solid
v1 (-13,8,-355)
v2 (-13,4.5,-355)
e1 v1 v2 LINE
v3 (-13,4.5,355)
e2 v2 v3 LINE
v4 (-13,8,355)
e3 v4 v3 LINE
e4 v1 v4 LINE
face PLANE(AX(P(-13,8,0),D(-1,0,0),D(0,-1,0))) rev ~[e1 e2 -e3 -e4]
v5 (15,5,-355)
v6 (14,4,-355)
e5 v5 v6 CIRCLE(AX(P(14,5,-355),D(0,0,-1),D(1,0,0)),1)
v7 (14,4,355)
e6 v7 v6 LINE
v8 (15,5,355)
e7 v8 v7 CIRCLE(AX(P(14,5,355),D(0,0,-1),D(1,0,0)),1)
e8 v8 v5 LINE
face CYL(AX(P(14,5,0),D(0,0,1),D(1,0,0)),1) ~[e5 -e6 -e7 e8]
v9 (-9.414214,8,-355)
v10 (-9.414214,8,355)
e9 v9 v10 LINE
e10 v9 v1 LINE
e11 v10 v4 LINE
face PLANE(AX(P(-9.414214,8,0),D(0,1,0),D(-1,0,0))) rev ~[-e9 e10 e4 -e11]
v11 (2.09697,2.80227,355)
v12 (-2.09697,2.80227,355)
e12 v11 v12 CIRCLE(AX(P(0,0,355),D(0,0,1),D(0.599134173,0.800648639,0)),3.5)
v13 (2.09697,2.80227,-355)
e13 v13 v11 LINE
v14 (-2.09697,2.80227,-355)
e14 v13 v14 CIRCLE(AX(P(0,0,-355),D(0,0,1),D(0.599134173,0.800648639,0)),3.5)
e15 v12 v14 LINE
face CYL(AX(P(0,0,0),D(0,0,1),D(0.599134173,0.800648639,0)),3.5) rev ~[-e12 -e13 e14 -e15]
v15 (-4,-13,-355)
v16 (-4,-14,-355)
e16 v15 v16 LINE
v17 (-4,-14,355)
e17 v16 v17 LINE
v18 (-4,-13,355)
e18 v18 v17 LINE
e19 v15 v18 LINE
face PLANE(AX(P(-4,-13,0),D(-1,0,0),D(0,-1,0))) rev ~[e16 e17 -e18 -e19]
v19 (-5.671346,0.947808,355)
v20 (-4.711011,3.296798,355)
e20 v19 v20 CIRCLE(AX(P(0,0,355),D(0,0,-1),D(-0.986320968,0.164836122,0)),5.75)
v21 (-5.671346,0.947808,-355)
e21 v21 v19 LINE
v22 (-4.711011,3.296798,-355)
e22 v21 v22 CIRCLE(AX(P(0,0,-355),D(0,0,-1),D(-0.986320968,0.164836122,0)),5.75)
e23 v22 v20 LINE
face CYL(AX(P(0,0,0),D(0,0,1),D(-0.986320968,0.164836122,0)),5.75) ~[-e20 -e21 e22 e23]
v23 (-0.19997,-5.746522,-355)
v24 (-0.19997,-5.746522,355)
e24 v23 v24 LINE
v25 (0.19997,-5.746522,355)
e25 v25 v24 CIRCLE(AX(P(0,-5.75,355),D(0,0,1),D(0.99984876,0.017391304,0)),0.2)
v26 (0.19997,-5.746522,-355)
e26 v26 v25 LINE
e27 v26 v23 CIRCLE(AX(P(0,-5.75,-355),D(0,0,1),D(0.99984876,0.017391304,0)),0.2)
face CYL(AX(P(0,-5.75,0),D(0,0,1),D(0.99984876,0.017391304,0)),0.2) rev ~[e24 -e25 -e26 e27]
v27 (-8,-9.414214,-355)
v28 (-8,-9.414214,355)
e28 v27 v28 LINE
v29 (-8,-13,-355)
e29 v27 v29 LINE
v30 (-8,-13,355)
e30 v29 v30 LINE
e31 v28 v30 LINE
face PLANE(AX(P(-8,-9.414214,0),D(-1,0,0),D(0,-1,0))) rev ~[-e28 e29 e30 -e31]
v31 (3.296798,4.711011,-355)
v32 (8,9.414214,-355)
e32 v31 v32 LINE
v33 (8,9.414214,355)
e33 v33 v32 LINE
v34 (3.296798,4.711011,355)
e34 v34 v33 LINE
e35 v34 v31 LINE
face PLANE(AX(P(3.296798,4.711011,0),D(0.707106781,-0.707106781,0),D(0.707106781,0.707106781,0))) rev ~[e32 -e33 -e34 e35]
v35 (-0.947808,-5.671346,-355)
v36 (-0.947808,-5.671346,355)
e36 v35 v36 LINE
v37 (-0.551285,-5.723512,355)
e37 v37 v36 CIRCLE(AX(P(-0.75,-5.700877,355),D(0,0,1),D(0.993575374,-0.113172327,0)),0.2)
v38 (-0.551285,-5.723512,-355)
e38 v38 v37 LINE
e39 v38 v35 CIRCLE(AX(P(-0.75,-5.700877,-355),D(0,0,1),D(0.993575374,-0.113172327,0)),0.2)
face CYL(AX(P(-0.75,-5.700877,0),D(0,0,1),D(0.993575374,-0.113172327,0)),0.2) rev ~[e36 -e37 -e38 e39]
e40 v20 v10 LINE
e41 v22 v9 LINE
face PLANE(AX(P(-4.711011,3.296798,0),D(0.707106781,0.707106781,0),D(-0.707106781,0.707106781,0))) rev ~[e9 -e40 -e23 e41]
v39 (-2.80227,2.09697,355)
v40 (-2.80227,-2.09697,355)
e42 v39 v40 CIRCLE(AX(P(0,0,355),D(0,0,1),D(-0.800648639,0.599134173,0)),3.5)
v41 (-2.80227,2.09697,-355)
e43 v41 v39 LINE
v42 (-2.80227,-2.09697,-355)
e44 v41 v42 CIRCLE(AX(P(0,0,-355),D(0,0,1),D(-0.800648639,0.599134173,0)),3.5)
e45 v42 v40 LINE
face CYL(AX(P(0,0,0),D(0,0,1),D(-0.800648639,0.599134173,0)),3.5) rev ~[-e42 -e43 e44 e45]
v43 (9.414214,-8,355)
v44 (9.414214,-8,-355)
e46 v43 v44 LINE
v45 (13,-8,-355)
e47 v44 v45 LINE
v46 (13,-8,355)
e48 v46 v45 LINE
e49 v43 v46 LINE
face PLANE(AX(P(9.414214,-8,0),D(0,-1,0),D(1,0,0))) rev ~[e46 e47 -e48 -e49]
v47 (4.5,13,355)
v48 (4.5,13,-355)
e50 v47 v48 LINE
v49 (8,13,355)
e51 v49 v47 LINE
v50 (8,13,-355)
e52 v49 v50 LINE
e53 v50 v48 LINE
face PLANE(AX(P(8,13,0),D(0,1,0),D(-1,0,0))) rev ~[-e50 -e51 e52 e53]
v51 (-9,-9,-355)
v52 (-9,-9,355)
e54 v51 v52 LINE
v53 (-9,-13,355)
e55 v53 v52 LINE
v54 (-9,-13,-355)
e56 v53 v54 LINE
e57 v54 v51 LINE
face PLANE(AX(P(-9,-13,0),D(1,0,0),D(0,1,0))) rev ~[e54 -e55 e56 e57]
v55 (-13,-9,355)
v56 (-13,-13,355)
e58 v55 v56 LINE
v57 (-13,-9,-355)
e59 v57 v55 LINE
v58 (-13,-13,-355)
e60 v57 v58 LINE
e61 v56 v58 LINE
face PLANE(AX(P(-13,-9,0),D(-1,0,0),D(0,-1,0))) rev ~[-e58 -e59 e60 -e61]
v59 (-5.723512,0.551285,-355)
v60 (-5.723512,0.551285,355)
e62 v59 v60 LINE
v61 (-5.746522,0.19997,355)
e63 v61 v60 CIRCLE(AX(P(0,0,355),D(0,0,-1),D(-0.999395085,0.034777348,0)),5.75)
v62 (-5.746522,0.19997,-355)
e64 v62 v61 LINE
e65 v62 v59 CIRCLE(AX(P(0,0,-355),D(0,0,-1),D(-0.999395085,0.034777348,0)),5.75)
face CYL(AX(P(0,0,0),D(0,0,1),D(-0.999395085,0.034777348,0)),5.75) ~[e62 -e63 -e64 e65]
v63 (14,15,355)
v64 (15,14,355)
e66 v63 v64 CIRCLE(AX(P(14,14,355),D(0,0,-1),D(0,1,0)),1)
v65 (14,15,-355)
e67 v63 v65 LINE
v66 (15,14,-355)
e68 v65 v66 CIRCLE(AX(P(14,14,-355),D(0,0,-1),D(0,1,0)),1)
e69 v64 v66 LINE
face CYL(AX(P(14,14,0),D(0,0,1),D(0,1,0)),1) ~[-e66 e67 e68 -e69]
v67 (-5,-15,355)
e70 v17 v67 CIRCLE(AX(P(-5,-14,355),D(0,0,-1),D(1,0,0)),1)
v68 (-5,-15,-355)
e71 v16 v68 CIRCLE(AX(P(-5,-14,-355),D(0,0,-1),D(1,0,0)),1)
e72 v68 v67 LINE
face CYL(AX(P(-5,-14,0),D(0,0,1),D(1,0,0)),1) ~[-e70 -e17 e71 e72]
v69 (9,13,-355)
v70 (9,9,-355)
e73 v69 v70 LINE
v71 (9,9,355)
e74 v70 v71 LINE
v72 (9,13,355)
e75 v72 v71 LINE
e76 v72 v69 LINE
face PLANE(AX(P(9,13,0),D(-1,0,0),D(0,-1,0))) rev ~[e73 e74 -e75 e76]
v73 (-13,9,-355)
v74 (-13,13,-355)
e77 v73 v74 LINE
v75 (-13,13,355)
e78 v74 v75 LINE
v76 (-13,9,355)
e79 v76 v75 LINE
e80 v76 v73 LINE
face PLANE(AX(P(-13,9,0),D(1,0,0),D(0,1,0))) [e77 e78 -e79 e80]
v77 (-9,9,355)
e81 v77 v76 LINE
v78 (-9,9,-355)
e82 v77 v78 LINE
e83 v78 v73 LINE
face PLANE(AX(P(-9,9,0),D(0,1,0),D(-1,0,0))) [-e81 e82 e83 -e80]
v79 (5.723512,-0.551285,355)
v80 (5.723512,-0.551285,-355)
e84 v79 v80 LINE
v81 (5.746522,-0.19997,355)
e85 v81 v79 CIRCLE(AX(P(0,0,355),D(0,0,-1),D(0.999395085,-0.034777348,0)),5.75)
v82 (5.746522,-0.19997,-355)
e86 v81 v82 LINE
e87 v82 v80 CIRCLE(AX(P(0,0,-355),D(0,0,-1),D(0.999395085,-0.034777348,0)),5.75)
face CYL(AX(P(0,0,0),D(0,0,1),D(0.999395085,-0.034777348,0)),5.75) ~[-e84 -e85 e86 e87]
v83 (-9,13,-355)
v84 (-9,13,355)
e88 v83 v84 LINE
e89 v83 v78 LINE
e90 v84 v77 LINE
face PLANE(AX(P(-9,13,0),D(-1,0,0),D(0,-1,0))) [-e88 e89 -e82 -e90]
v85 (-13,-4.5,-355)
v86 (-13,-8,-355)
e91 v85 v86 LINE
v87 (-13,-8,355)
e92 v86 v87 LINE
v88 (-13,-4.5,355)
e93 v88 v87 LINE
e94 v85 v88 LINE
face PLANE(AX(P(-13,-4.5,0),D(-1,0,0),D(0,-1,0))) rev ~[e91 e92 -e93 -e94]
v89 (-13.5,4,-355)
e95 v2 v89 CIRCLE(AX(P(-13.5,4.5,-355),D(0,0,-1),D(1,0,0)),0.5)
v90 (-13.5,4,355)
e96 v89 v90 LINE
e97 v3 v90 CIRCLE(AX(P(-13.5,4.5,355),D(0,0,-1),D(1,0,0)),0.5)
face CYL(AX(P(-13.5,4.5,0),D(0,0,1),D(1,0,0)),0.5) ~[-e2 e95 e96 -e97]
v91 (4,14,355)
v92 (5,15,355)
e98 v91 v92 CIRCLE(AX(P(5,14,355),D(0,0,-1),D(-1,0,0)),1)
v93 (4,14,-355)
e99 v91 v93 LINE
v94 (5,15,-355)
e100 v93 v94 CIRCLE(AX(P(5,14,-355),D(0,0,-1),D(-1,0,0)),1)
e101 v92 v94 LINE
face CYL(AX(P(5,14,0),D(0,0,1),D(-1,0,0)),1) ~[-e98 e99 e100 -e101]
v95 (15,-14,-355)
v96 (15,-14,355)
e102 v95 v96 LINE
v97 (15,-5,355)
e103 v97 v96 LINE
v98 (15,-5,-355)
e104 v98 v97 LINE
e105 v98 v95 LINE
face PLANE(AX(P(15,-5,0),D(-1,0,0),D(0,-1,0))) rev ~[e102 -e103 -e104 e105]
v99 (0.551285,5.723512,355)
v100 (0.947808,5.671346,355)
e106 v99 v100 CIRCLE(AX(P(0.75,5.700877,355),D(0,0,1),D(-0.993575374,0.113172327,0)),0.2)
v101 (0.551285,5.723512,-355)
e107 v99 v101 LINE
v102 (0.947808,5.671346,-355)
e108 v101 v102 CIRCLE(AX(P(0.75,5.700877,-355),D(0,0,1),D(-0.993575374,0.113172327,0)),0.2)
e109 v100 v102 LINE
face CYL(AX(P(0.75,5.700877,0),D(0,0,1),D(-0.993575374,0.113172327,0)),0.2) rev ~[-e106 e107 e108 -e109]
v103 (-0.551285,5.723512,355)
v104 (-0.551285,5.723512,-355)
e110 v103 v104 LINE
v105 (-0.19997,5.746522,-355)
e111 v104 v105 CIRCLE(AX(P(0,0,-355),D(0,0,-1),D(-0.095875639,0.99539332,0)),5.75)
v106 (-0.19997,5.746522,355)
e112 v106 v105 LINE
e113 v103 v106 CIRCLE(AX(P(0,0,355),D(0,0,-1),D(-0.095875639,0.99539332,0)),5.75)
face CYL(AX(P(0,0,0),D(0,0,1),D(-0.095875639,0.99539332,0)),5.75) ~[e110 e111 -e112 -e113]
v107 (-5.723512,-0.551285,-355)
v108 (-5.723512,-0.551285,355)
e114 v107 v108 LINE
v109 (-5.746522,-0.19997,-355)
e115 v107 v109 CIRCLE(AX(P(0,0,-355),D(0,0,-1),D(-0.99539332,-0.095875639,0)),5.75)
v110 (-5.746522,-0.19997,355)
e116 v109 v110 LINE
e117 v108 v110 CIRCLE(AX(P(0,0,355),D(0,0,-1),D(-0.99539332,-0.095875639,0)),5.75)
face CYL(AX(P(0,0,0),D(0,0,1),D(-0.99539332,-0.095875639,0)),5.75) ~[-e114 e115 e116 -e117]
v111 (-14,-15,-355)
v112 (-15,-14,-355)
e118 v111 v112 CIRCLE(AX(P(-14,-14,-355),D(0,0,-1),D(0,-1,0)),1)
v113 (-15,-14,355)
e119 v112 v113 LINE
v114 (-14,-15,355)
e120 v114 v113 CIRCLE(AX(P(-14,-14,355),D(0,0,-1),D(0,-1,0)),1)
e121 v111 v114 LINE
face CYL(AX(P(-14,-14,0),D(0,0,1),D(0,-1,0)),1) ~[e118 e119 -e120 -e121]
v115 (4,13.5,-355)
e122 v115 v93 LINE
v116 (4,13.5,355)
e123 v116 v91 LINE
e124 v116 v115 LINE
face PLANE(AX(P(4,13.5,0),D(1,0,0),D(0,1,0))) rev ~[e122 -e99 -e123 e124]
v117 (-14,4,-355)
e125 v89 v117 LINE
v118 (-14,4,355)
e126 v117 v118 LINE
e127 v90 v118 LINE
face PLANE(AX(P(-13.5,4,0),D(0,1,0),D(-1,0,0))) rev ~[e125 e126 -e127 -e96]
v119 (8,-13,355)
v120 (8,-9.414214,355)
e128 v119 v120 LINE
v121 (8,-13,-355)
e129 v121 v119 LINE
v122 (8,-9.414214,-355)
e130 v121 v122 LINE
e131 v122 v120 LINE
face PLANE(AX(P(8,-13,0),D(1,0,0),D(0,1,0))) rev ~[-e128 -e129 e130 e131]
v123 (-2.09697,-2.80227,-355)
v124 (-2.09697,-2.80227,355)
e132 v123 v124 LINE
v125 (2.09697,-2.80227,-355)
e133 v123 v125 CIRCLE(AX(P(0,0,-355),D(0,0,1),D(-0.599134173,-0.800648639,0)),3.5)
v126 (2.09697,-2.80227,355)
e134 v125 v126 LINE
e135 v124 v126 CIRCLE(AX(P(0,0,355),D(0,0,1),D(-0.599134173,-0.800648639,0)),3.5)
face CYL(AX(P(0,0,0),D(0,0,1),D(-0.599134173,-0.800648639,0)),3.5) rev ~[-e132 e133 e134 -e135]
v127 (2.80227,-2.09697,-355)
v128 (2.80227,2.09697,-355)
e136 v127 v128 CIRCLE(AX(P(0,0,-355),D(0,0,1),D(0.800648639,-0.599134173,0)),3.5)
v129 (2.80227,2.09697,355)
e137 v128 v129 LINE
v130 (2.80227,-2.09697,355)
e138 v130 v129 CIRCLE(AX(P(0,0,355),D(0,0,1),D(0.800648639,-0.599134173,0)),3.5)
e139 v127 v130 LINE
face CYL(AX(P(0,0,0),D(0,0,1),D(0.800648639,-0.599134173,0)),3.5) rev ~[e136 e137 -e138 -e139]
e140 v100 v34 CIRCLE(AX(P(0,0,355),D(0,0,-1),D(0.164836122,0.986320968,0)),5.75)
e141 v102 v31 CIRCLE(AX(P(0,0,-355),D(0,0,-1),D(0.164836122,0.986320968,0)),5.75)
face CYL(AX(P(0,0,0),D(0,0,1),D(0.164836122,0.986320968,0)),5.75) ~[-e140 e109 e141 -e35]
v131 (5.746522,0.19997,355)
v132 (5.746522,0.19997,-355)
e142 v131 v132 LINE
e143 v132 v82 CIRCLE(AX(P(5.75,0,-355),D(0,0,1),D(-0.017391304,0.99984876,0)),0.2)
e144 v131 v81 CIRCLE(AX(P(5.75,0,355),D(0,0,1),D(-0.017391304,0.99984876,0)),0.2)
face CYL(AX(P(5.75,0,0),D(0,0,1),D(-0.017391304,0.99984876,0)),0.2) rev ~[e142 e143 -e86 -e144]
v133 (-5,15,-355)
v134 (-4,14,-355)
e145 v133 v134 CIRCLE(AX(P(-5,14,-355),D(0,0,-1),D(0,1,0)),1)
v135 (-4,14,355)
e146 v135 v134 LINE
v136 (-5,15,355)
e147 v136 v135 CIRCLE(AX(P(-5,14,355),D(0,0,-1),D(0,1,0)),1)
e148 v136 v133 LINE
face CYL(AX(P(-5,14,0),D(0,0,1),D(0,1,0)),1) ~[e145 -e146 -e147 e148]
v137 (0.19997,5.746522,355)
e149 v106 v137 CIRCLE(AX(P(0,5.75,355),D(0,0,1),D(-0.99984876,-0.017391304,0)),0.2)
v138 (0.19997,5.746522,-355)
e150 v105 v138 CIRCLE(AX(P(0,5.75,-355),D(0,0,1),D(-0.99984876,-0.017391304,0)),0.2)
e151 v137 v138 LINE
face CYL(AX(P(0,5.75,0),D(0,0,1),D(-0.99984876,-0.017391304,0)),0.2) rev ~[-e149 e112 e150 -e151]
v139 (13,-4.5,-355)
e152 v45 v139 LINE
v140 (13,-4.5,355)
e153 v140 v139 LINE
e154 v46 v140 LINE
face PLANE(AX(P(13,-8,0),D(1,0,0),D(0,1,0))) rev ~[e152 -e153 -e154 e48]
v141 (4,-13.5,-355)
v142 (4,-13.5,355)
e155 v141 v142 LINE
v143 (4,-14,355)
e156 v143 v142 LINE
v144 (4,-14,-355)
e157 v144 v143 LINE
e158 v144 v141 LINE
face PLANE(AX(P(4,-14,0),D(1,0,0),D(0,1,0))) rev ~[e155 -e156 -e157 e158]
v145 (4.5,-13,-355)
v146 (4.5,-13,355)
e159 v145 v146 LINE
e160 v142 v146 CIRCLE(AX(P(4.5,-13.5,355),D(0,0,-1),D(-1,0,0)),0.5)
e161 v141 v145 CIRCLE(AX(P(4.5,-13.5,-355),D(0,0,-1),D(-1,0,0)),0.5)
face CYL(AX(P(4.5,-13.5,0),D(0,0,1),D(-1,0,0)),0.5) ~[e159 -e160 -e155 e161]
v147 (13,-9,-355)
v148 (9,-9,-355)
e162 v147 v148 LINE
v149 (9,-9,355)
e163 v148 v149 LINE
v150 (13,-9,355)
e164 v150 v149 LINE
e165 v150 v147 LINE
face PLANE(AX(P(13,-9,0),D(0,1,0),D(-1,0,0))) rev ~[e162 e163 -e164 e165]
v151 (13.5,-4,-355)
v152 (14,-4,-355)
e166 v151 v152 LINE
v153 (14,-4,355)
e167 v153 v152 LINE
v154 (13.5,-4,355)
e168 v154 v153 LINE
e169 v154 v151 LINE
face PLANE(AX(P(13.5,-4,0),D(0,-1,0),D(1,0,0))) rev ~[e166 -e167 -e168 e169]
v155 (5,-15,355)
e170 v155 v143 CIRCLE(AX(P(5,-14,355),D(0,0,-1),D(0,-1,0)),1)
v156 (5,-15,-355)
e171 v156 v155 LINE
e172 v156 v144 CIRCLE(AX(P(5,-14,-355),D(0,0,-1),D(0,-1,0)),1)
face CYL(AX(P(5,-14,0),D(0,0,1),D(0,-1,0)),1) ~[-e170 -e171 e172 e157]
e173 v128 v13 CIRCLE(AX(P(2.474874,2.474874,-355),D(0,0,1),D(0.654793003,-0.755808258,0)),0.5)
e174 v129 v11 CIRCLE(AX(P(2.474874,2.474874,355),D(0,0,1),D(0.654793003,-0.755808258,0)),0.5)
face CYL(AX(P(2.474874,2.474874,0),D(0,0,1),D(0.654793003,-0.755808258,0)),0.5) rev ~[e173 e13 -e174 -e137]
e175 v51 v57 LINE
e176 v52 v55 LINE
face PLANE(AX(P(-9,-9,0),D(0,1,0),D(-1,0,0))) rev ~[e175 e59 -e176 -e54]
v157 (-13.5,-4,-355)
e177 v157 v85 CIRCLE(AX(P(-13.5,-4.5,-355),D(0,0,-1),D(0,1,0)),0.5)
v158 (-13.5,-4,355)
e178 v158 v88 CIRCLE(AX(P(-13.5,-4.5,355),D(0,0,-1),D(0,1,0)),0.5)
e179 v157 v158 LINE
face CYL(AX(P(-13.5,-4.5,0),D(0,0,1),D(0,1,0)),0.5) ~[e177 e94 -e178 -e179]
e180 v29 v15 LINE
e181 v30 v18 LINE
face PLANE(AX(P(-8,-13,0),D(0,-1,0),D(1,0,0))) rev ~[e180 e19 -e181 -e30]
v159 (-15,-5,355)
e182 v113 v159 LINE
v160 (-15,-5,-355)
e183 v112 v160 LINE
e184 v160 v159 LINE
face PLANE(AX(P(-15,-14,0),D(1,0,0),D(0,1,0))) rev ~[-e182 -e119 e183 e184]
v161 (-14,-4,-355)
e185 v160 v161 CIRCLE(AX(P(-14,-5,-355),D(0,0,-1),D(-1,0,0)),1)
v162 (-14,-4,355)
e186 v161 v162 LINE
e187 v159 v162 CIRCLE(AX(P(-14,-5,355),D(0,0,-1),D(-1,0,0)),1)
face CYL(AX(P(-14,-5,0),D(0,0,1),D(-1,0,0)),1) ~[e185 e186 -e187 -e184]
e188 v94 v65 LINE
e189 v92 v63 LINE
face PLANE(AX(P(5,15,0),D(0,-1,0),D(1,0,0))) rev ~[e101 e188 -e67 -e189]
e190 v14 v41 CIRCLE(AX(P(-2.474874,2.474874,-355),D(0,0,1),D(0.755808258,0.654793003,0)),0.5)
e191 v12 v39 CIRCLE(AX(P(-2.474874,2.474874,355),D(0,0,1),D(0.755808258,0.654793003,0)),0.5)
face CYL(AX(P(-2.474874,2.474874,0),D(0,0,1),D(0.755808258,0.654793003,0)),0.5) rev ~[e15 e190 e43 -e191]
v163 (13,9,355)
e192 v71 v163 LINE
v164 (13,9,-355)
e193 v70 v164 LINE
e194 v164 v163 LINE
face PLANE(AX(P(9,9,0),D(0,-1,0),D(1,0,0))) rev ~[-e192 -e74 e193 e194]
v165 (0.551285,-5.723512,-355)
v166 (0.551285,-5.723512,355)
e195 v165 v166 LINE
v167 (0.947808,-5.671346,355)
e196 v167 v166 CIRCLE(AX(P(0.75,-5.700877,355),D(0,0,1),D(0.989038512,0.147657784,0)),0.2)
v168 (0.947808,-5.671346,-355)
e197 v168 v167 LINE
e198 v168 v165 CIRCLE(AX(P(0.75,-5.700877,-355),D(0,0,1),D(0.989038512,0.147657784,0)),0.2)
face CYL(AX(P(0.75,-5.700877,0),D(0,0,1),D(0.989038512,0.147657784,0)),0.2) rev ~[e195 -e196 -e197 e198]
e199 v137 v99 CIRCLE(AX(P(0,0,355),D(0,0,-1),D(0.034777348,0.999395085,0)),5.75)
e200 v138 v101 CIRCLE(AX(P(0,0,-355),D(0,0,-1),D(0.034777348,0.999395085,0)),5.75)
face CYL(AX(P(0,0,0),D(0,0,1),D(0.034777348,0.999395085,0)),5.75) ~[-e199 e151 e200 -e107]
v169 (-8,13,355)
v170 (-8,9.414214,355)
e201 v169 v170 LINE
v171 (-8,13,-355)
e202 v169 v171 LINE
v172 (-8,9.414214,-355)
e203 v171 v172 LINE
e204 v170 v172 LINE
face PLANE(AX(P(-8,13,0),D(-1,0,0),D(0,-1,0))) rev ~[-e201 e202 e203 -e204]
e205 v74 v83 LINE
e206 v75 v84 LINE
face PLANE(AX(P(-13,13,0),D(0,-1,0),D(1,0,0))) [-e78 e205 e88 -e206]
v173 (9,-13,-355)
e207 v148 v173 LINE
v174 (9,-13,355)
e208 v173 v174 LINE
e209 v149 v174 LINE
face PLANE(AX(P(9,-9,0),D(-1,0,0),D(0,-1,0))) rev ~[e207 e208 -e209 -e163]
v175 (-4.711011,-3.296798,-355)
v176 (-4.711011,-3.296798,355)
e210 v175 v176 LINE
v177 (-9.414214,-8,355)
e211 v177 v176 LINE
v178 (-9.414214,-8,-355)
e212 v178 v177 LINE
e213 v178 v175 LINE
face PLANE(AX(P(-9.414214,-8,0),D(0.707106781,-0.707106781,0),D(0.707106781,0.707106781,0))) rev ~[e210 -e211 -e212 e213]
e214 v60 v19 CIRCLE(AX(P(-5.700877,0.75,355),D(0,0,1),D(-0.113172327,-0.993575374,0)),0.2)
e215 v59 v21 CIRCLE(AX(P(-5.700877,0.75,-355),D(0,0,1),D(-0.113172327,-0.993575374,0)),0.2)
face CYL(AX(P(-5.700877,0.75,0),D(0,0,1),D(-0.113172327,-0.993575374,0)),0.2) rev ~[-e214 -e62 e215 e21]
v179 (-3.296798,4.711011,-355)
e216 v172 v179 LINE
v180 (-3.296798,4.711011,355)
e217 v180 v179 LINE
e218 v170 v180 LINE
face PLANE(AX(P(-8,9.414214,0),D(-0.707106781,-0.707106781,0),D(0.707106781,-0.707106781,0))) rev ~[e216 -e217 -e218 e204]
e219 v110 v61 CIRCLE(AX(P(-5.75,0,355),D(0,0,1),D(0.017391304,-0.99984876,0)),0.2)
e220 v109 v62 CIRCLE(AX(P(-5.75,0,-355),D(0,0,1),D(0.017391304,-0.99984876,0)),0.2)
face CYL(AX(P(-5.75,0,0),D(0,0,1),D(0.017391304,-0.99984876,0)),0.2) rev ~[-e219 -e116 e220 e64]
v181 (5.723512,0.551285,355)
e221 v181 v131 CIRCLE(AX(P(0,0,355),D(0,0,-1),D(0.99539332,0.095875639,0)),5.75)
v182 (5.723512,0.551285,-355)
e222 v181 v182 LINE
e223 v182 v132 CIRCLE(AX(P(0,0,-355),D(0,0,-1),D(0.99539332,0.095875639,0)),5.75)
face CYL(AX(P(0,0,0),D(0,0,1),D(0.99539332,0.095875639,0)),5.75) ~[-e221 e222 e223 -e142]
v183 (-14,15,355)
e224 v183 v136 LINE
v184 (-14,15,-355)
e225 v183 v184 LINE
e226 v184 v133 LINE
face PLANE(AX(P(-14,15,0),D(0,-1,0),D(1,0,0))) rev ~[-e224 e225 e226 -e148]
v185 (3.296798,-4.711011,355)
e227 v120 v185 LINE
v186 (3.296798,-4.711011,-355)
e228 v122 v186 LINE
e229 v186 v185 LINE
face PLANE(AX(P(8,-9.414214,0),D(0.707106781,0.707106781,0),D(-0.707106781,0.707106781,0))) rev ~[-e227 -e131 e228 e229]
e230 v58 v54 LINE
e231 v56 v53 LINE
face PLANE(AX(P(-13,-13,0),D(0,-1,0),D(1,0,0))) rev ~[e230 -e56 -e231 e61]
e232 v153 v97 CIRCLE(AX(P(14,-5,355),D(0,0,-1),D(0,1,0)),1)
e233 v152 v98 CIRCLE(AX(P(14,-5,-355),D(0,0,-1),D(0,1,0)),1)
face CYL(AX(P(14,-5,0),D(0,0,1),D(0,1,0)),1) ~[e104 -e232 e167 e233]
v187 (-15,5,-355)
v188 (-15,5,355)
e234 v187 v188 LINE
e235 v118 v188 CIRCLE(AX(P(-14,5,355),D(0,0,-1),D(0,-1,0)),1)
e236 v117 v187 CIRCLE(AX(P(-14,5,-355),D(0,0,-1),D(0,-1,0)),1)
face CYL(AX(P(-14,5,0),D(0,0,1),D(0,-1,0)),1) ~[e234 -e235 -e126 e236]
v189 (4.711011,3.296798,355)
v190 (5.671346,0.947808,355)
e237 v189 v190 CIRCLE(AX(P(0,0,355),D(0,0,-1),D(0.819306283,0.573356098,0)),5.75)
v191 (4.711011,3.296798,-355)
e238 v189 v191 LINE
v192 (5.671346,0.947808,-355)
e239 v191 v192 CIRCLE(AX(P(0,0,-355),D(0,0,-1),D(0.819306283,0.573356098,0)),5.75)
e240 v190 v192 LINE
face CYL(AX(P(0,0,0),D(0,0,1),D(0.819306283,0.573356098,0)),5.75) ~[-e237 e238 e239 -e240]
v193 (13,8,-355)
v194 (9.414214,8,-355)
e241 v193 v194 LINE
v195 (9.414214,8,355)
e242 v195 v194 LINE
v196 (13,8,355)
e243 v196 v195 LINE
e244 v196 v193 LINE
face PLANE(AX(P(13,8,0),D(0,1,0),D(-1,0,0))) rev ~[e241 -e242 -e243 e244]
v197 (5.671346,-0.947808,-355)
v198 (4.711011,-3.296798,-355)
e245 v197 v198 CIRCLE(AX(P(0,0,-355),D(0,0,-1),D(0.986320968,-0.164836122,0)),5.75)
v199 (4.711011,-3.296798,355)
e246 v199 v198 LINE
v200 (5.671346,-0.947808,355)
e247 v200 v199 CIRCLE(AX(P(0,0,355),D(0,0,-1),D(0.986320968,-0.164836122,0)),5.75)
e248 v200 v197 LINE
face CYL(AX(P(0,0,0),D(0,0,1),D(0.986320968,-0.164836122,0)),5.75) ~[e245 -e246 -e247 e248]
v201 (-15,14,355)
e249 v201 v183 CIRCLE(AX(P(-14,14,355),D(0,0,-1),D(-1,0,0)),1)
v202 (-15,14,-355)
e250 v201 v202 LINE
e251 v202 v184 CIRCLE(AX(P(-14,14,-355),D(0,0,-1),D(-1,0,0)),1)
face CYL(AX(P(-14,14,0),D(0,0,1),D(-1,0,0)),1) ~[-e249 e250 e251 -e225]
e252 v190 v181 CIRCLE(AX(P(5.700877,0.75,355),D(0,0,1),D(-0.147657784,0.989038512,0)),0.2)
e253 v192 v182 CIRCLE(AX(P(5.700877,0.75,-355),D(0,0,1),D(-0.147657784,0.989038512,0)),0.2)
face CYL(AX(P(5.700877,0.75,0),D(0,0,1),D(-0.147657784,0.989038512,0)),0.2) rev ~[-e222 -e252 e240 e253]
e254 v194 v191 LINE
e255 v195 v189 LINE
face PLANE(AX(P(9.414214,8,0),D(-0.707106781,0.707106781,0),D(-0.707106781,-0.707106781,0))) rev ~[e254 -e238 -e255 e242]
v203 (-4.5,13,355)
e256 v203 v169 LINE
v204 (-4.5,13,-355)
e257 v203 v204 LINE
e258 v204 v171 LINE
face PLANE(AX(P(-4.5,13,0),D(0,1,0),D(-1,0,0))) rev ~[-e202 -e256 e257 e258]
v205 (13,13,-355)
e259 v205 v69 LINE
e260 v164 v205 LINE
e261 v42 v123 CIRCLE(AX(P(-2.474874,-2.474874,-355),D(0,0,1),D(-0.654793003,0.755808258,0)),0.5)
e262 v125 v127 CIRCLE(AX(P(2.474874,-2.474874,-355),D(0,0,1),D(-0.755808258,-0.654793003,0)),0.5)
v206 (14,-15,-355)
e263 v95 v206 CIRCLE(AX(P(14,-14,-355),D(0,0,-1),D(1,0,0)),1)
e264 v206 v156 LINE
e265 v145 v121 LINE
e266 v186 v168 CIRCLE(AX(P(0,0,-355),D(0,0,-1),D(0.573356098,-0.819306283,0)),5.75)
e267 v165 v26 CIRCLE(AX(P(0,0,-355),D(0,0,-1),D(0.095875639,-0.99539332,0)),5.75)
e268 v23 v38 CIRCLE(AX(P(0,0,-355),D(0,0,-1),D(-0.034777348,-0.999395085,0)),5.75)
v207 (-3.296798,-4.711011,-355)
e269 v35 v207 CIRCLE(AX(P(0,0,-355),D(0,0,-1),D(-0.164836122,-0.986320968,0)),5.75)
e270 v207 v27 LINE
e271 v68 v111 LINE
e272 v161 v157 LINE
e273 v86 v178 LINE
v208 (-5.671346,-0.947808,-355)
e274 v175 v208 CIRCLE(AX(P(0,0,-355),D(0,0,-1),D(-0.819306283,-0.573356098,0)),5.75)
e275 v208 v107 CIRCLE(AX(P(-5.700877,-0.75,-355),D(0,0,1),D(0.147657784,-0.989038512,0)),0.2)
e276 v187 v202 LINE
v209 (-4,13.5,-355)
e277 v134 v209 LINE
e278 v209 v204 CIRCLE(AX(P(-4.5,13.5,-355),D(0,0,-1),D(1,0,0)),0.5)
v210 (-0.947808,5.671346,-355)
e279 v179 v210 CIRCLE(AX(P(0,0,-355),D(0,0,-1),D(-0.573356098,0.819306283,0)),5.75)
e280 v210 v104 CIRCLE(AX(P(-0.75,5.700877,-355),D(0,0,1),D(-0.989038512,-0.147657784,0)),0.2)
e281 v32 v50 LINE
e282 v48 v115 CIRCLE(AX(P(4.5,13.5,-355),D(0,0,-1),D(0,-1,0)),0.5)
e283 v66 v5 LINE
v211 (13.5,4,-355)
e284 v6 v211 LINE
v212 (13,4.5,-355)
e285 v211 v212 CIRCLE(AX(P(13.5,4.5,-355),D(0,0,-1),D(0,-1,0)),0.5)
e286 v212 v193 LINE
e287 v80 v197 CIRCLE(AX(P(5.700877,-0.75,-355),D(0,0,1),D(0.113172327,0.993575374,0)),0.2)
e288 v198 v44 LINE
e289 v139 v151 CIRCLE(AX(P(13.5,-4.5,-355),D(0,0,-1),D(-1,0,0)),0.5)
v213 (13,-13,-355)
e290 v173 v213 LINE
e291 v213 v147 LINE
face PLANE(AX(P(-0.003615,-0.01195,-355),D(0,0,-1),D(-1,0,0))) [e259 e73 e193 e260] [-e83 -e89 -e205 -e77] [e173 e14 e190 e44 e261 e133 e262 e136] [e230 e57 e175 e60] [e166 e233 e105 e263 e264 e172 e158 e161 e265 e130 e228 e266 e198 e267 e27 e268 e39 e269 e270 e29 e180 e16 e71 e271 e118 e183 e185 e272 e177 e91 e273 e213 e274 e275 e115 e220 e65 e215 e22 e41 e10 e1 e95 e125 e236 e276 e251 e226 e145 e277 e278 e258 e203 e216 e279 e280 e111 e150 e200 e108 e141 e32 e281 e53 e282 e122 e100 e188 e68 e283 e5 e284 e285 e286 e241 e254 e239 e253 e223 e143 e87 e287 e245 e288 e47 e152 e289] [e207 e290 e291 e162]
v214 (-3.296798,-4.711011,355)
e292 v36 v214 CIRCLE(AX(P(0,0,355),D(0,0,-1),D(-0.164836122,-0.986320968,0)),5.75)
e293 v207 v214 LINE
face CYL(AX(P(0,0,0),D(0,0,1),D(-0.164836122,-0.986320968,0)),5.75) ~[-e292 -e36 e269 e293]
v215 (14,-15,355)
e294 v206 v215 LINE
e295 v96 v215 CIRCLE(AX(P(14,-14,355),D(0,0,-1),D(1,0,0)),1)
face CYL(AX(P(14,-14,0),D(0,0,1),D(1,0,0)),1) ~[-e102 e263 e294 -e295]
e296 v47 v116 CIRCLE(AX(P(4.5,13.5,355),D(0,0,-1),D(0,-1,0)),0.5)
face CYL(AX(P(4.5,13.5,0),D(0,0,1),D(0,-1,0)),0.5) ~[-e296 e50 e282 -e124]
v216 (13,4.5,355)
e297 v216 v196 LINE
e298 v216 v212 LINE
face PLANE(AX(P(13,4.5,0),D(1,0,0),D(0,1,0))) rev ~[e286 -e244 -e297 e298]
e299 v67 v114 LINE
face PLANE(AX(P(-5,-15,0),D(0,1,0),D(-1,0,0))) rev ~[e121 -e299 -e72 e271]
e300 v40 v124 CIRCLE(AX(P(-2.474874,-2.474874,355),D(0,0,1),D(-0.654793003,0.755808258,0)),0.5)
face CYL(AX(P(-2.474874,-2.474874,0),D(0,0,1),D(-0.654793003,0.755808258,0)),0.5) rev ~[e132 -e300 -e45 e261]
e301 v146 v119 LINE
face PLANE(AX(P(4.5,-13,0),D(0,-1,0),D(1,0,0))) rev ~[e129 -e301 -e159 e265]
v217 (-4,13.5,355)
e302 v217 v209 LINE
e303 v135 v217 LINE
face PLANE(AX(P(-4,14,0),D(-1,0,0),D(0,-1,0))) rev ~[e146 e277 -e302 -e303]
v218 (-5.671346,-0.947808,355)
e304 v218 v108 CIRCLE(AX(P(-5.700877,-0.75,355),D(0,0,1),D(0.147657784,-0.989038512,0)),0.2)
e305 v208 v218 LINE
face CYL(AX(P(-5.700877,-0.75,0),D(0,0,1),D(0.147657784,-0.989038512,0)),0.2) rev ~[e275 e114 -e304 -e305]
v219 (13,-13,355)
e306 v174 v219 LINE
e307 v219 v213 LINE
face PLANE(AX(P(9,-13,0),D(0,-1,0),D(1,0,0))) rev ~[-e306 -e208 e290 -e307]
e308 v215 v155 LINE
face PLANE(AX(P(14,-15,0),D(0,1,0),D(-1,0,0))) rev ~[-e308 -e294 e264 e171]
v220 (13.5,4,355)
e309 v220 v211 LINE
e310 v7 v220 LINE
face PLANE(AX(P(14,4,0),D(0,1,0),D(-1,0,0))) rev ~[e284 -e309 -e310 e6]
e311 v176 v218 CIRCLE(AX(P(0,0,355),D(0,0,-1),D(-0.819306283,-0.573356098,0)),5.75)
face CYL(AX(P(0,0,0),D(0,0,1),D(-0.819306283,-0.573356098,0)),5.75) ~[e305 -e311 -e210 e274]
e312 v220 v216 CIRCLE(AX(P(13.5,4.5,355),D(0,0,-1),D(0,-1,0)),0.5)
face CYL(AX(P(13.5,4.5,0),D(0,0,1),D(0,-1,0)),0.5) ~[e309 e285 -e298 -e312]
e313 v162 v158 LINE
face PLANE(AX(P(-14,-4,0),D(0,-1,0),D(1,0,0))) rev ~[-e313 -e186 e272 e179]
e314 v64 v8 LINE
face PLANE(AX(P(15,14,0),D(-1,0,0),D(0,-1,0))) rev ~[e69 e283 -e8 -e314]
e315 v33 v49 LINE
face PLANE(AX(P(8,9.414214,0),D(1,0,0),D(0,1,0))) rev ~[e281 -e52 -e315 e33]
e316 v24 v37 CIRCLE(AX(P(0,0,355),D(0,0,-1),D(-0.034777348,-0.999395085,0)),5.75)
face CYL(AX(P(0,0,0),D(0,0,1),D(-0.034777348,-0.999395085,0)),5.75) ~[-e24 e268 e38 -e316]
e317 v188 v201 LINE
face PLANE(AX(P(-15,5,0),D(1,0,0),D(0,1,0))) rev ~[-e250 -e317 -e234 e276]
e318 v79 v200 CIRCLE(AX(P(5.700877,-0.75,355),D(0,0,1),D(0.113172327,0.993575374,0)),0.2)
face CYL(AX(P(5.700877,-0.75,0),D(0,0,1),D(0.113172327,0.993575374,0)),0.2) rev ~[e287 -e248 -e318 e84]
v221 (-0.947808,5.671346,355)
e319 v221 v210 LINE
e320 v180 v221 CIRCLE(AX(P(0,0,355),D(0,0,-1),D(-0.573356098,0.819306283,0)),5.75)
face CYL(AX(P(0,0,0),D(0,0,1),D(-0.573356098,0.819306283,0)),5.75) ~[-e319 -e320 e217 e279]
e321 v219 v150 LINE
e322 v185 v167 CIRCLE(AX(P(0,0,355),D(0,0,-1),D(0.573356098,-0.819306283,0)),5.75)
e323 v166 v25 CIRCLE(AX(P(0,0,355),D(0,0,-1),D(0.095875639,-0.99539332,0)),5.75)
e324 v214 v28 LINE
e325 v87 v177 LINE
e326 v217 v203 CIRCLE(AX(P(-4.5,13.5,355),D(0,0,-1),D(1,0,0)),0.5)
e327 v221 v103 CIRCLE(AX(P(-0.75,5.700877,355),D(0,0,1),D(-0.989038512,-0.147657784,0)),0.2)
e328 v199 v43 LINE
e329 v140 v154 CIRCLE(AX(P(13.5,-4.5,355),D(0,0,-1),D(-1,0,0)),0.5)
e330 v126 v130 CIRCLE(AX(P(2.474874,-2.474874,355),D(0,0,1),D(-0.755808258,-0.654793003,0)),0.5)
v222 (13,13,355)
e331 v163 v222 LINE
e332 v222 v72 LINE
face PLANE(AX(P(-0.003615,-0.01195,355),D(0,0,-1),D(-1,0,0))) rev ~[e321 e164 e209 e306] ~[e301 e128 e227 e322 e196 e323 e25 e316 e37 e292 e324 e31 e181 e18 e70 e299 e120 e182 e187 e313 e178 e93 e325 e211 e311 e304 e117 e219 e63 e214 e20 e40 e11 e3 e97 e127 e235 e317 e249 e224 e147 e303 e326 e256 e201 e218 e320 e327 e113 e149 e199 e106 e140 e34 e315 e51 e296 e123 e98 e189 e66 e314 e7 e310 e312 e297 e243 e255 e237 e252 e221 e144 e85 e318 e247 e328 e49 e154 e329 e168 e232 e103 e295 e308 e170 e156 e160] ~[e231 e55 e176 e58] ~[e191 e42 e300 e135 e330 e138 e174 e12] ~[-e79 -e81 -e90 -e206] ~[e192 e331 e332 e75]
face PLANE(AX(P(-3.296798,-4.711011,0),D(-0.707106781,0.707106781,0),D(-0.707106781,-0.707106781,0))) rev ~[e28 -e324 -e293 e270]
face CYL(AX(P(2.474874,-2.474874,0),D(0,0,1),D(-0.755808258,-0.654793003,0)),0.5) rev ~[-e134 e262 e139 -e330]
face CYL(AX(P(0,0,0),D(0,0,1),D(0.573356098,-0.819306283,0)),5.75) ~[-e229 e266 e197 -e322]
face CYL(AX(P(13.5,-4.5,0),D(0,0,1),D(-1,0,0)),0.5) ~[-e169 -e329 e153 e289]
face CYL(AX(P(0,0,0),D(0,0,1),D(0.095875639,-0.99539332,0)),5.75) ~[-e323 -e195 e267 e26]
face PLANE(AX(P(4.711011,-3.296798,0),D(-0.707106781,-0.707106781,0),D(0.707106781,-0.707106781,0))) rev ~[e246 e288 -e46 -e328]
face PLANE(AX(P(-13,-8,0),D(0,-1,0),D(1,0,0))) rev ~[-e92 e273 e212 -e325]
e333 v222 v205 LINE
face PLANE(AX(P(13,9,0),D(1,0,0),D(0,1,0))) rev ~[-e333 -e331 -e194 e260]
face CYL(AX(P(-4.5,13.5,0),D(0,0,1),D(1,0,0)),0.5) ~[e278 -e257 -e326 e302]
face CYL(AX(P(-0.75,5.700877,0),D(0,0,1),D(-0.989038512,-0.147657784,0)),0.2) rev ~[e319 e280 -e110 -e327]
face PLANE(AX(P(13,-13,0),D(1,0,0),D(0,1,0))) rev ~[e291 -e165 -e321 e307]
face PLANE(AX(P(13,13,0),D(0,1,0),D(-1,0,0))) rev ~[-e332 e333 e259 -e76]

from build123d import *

# Parameters (mm, degrees)
BOSS_EXTRUDE1_DEPTH = 355


with BuildPart() as part:
    # Sketch1 → Boss-Extrude1 (new, symmetric)
    with BuildSketch(Plane.XY):
        with BuildLine():
            Line((-15, 5.000000000000009), (-15, 13.999999999999993))
            ThreePointArc((-15, 13.999999999999993), (-14.707106781186548, 14.70710678118655), (-13.999999999999991, 15.000000000000002))
            Line((-13.999999999999991, 15.000000000000002), (-5.000000000000007, 15.000000000000002))
            ThreePointArc((-5.000000000000007, 15.000000000000002), (-4.292893218813452, 14.707106781186548), (-4, 13.999999999999993))
            Line((-4, 13.999999999999993), (-4, 13.500000000000004))
            ThreePointArc((-4, 13.500000000000004), (-4.146446609406727, 13.146446609406725), (-4.500000000000005, 13))
            Line((-4.500000000000005, 13), (-8.000000000000005, 13.000000000000016))
            Line((-8.000000000000005, 13.000000000000016), (-7.999999999999849, 9.414213562373025))
            Line((-7.999999999999849, 9.414213562373025), (-3.2967975633251787, 4.711011125698298))
            ThreePointArc((-3.2967975633251787, 4.711011125698298), (-2.175943249756075, 5.3223839558829855), (-0.9478077024559322, 5.67134556866048))
            ThreePointArc((-0.9478077024559322, 5.67134556866048), (-0.7239130434782917, 5.502585747217556), (-0.5512849251433612, 5.72351159091246))
            ThreePointArc((-0.5512849251433612, 5.72351159091246), (-0.3758034914685008, 5.737706138850234), (-0.1999697519659725, 5.746521739130396))
            ThreePointArc((-0.1999697519659725, 5.746521739130396), (-0.14018621156536692, 5.607354193587874), (-2.429e-14, 5.549999999999962))
            ThreePointArc((-2.429e-14, 5.549999999999962), (0.14018621156537447, 5.607354193587863), (0.1999697519659689, 5.746521739130433))
            ThreePointArc((0.1999697519659689, 5.746521739130433), (0.37580349146849373, 5.737706138850271), (0.5512849251433537, 5.723511590912496))
            ThreePointArc((0.5512849251433537, 5.723511590912496), (0.7239130434782822, 5.502585747217588), (0.9478077024559303, 5.671345568660512))
            ThreePointArc((0.9478077024559303, 5.671345568660512), (2.1759432497560995, 5.32238395588301), (3.2967975633252076, 4.711011125698281))
            Line((3.2967975633252076, 4.711011125698281), (8.000000000000027, 9.414213562373071))
            Line((8.000000000000027, 9.414213562373071), (8.000000000000039, 12.999999999999977))
            Line((8.000000000000039, 12.999999999999977), (4.500000000000051, 12.999999999999986))
            ThreePointArc((4.500000000000051, 12.999999999999986), (4.146446609406774, 13.146446609406713), (4.000000000000049, 13.499999999999991))
            Line((4.000000000000049, 13.499999999999991), (4.000000000000051, 13.999999999999977))
            ThreePointArc((4.000000000000051, 13.999999999999977), (4.292893218813505, 14.70710678118653), (5.00000000000006, 14.999999999999982))
            Line((5.00000000000006, 14.999999999999982), (14.000000000000046, 14.99999999999995))
            ThreePointArc((14.000000000000046, 14.99999999999995), (14.7071067811866, 14.707106781186495), (15.00000000000005, 13.99999999999994))
            Line((15.00000000000005, 13.99999999999994), (15.000000000000018, 4.999999999999955))
            ThreePointArc((15.000000000000018, 4.999999999999955), (14.707106781186562, 4.2928932188134015), (14.000000000000007, 3.9999999999999516))
            Line((14.000000000000007, 3.9999999999999516), (13.500000000000018, 3.9999999999999534))
            ThreePointArc((13.500000000000018, 3.9999999999999534), (13.146446609406741, 4.146446609406682), (13.000000000000014, 4.499999999999961))
            Line((13.000000000000014, 4.499999999999961), (13.000000000000044, 7.99999999999996))
            Line((13.000000000000044, 7.99999999999996), (9.414213562373115, 7.9999999999999725))
            Line((9.414213562373115, 7.9999999999999725), (4.711011125698292, 3.2967975633251885))
            ThreePointArc((4.711011125698292, 3.2967975633251885), (5.322383955882988, 2.1759432497560716), (5.671345568660484, 0.9478077024559123))
            ThreePointArc((5.671345568660484, 0.9478077024559123), (5.502585747217559, 0.7239130434782725), (5.723511590912461, 0.5512849251433413))
            ThreePointArc((5.723511590912461, 0.5512849251433413), (5.7377061388502355, 0.37580349146848013), (5.746521739130397, 0.19996975196595243))
            ThreePointArc((5.746521739130397, 0.19996975196595243), (5.607354193587875, 0.14018621156534747), (5.549999999999962, 4.91e-15))
            ThreePointArc((5.549999999999962, 4.91e-15), (5.60735419358786, -0.1401862115653925), (5.746521739130428, -0.1999697519659527))
            ThreePointArc((5.746521739130428, -0.1999697519659527), (5.737706138850272, -0.3758034914684969), (5.723511590912494, -0.5512849251433738))
            ThreePointArc((5.723511590912494, -0.5512849251433738), (5.502585747217585, -0.7239130434783013), (5.6713455686605085, -0.94780770245595))
            ThreePointArc((5.6713455686605085, -0.94780770245595), (5.3223839558830015, -2.175943249756118), (4.711011125698269, -3.296797563325224))
            Line((4.711011125698269, -3.296797563325224), (9.414213562373133, -7.999999999999714))
            Line((9.414213562373133, -7.999999999999714), (13.000000000000002, -7.99999999999998))
            Line((13.000000000000002, -7.99999999999998), (12.999999999999952, -4.499999999999787))
            ThreePointArc((12.999999999999952, -4.499999999999787), (13.146446609406702, -4.146446609406478), (13.50000000000003, -3.999999999999776))
            Line((13.50000000000003, -3.999999999999776), (14.000000000000144, -3.9999999999998517))
            ThreePointArc((14.000000000000144, -3.9999999999998517), (14.707106781186603, -4.292893218813357), (15.000000000000002, -4.999999999999859))
            Line((15.000000000000002, -4.999999999999859), (15.000000000000004, -14.000000000000002))
            ThreePointArc((15.000000000000004, -14.000000000000002), (14.70710678118655, -14.707106781186548), (14.000000000000004, -15.000000000000004))
            Line((14.000000000000004, -15.000000000000004), (5.000000000000161, -15.000000000000002))
            ThreePointArc((5.000000000000161, -15.000000000000002), (4.2928932188135525, -14.707106781186496), (4.000000000000154, -13.999999999999844))
            Line((4.000000000000154, -13.999999999999844), (4.000000000000229, -13.499999999999826))
            ThreePointArc((4.000000000000229, -13.499999999999826), (4.146446609406977, -13.1464466094066), (4.500000000000221, -12.999999999999897))
            Line((4.500000000000221, -12.999999999999897), (8.000000000000153, -12.999999999999817))
            Line((8.000000000000153, -12.999999999999817), (7.99999999999994, -9.414213562373144))
            Line((7.99999999999994, -9.414213562373144), (3.296797563325172, -4.711011125698304))
            ThreePointArc((3.296797563325172, -4.711011125698304), (2.175943249756054, -5.322383955882996), (0.9478077024558925, -5.671345568660487))
            ThreePointArc((0.9478077024558925, -5.671345568660487), (0.7239130434782536, -5.502585747217561), (0.5512849251433212, -5.723511590912463))
            ThreePointArc((0.5512849251433212, -5.723511590912463), (0.3758034914684597, -5.7377061388502355), (0.19996975196593236, -5.746521739130398))
            ThreePointArc((0.19996975196593236, -5.746521739130398), (0.14018621156532793, -5.6073541935878755), (-1.447e-14, -5.549999999999962))
            ThreePointArc((-1.447e-14, -5.549999999999962), (-0.14018621156541247, -5.60735419358786), (-0.19996975196595235, -5.746521739130428))
            ThreePointArc((-0.19996975196595235, -5.746521739130428), (-0.37580349146850606, -5.737706138850271), (-0.5512849251433938, -5.723511590912492))
            ThreePointArc((-0.5512849251433938, -5.723511590912492), (-0.7239130434783215, -5.502585747217583), (-0.9478077024559699, -5.671345568660507))
            ThreePointArc((-0.9478077024559699, -5.671345568660507), (-2.175943249756137, -5.322383955882994), (-3.2967975633252404, -4.711011125698258))
            Line((-3.2967975633252404, -4.711011125698258), (-7.99999999999998, -9.414213562373098))
            Line((-7.99999999999998, -9.414213562373098), (-7.99999999999998, -13.000000000000002))
            Line((-7.99999999999998, -13.000000000000002), (-4.000000000000001, -13.000000000000002))
            Line((-4.000000000000001, -13.000000000000002), (-4.000000000000001, -13.999999999999995))
            ThreePointArc((-4.000000000000001, -13.999999999999995), (-4.292893218813453, -14.70710678118655), (-5.000000000000008, -15.000000000000002))
            Line((-5.000000000000008, -15.000000000000002), (-13.999999999999998, -15.000000000000004))
            ThreePointArc((-13.999999999999998, -15.000000000000004), (-14.707106781186546, -14.707106781186553), (-15.000000000000004, -14.000000000000005))
            Line((-15.000000000000004, -14.000000000000005), (-15.000000000000002, -5.0000000000000115))
            ThreePointArc((-15.000000000000002, -5.0000000000000115), (-14.70710678118655, -4.292893218813457), (-13.999999999999995, -4.000000000000004))
            Line((-13.999999999999995, -4.000000000000004), (-13.500000000000007, -4.000000000000004))
            ThreePointArc((-13.500000000000007, -4.000000000000004), (-13.14644660940673, -4.1464466094067305), (-13.000000000000004, -4.500000000000007))
            Line((-13.000000000000004, -4.500000000000007), (-13.000000000000002, -8.000000000000002))
            Line((-13.000000000000002, -8.000000000000002), (-9.414213562373073, -8))
            Line((-9.414213562373073, -8), (-4.711011125698316, -3.2967975633251556))
            ThreePointArc((-4.711011125698316, -3.2967975633251556), (-5.322383955883002, -2.175943249756036), (-5.67134556866049, -0.9478077024558731))
            ThreePointArc((-5.67134556866049, -0.9478077024558731), (-5.502585747217563, -0.7239130434782345), (-5.723511590912465, -0.5512849251433016))
            ThreePointArc((-5.723511590912465, -0.5512849251433016), (-5.737706138850236, -0.3758034914684416), (-5.746521739130398, -0.1999697519659127))
            ThreePointArc((-5.746521739130398, -0.1999697519659127), (-5.607354193587914, -0.1401862115652944), (-5.549999999999999, -2.5e-16))
            ThreePointArc((-5.549999999999999, -2.5e-16), (-5.607354193587905, 0.1401862115653443), (-5.746521739130434, 0.19996975196594882))
            ThreePointArc((-5.746521739130434, 0.19996975196594882), (-5.737706138850273, 0.375803491468473), (-5.723511590912498, 0.5512849251433337))
            ThreePointArc((-5.723511590912498, 0.5512849251433337), (-5.502585747217591, 0.7239130434782631), (-5.671345568660516, 0.9478077024559104))
            ThreePointArc((-5.671345568660516, 0.9478077024559104), (-5.322383955883011, 2.17594324975609), (-4.711011125698278, 3.29679756332521))
            Line((-4.711011125698278, 3.29679756332521), (-9.414213562372948, 7.9999999999999325))
            Line((-9.414213562372948, 7.9999999999999325), (-13.000000000000005, 7.999999999999993))
            Line((-13.000000000000005, 7.999999999999993), (-13.000000000000002, 4.500000000000005))
            ThreePointArc((-13.000000000000002, 4.500000000000005), (-13.146446609406727, 4.146446609406728), (-13.500000000000005, 4.000000000000002))
            Line((-13.500000000000005, 4.000000000000002), (-13.999999999999991, 4.000000000000002))
            ThreePointArc((-13.999999999999991, 4.000000000000002), (-14.707106781186546, 4.292893218813454), (-15, 5.000000000000009))
        make_face()
        Polygon((-13.000000000000007, 9.000000000000016), (-12.999999999999853, 13.000000000000005), (-9.000000000000007, 13.000000000000016), (-8.999999999999853, 8.999999999999956), align=None, mode=Mode.SUBTRACT)
        Polygon((13.000000000000043, 12.999999999999956), (9.000000000000062, 12.999999999999975), (9.000000000000048, 8.999999999999975), (13.000000000000048, 8.999999999999961), align=None, mode=Mode.SUBTRACT)
        Polygon((13.000000000000004, -13.000000000000002), (13.000000000000004, -9.000000000000004), (9.000000000000062, -8.999999999999746), (9.000000000000105, -12.99999999999975), align=None, mode=Mode.SUBTRACT)
        Polygon((-13.000000000000002, -13.000000000000004), (-9.000000000000004, -13.000000000000004), (-9.000000000000004, -9.000000000000005), (-13, -9.000000000000007), align=None, mode=Mode.SUBTRACT)
        with BuildLine():
            ThreePointArc((3e-16, 3.5000000000000018), (-1.105000944452059, 3.320989748969435), (-2.096969605215332, 2.8022702358628915))
            ThreePointArc((-2.096969605215332, 2.8022702358628915), (-2.8284271247461614, 2.8284271247461947), (-2.8022702358628897, 2.0969696052153344))
            ThreePointArc((-2.8022702358628897, 2.0969696052153344), (-3.320989748969433, 1.1050009444520614), (-3.5, 1.73e-15))
            ThreePointArc((-3.5, 1.73e-15), (-3.320989748969439, -1.1050009444520394), (-2.8022702358629137, -2.096969605215303))
            ThreePointArc((-2.8022702358629137, -2.096969605215303), (-2.828427124746224, -2.8284271247461628), (-2.0969696052153637, -2.802270235862868))
            ThreePointArc((-2.0969696052153637, -2.802270235862868), (-1.1050009444520896, -3.3209897489694247), (-2.474e-14, -3.5000000000000018))
            ThreePointArc((-2.474e-14, -3.5000000000000018), (1.1050009444520363, -3.3209897489694424), (2.0969696052153126, -2.8022702358629066))
            ThreePointArc((2.0969696052153126, -2.8022702358629066), (2.8284271247461725, -2.828427124746214), (2.8022702358628746, -2.096969605215354))
            ThreePointArc((2.8022702358628746, -2.096969605215354), (3.3209897489694282, -1.1050009444520785), (3.5000000000000018, -1.252e-14))
            ThreePointArc((3.5000000000000018, -1.252e-14), (3.320989748969439, 1.1050009444520479), (2.802270235862899, 2.096969605215322))
            ThreePointArc((2.802270235862899, 2.096969605215322), (2.828427124746204, 2.828427124746182), (2.096969605215344, 2.802270235862882))
            ThreePointArc((2.096969605215344, 2.802270235862882), (1.1050009444520668, 3.320989748969432), (3e-16, 3.5000000000000018))
        make_face(mode=Mode.SUBTRACT)
    extrude(amount=BOSS_EXTRUDE1_DEPTH, both=True)


solid = part.part
